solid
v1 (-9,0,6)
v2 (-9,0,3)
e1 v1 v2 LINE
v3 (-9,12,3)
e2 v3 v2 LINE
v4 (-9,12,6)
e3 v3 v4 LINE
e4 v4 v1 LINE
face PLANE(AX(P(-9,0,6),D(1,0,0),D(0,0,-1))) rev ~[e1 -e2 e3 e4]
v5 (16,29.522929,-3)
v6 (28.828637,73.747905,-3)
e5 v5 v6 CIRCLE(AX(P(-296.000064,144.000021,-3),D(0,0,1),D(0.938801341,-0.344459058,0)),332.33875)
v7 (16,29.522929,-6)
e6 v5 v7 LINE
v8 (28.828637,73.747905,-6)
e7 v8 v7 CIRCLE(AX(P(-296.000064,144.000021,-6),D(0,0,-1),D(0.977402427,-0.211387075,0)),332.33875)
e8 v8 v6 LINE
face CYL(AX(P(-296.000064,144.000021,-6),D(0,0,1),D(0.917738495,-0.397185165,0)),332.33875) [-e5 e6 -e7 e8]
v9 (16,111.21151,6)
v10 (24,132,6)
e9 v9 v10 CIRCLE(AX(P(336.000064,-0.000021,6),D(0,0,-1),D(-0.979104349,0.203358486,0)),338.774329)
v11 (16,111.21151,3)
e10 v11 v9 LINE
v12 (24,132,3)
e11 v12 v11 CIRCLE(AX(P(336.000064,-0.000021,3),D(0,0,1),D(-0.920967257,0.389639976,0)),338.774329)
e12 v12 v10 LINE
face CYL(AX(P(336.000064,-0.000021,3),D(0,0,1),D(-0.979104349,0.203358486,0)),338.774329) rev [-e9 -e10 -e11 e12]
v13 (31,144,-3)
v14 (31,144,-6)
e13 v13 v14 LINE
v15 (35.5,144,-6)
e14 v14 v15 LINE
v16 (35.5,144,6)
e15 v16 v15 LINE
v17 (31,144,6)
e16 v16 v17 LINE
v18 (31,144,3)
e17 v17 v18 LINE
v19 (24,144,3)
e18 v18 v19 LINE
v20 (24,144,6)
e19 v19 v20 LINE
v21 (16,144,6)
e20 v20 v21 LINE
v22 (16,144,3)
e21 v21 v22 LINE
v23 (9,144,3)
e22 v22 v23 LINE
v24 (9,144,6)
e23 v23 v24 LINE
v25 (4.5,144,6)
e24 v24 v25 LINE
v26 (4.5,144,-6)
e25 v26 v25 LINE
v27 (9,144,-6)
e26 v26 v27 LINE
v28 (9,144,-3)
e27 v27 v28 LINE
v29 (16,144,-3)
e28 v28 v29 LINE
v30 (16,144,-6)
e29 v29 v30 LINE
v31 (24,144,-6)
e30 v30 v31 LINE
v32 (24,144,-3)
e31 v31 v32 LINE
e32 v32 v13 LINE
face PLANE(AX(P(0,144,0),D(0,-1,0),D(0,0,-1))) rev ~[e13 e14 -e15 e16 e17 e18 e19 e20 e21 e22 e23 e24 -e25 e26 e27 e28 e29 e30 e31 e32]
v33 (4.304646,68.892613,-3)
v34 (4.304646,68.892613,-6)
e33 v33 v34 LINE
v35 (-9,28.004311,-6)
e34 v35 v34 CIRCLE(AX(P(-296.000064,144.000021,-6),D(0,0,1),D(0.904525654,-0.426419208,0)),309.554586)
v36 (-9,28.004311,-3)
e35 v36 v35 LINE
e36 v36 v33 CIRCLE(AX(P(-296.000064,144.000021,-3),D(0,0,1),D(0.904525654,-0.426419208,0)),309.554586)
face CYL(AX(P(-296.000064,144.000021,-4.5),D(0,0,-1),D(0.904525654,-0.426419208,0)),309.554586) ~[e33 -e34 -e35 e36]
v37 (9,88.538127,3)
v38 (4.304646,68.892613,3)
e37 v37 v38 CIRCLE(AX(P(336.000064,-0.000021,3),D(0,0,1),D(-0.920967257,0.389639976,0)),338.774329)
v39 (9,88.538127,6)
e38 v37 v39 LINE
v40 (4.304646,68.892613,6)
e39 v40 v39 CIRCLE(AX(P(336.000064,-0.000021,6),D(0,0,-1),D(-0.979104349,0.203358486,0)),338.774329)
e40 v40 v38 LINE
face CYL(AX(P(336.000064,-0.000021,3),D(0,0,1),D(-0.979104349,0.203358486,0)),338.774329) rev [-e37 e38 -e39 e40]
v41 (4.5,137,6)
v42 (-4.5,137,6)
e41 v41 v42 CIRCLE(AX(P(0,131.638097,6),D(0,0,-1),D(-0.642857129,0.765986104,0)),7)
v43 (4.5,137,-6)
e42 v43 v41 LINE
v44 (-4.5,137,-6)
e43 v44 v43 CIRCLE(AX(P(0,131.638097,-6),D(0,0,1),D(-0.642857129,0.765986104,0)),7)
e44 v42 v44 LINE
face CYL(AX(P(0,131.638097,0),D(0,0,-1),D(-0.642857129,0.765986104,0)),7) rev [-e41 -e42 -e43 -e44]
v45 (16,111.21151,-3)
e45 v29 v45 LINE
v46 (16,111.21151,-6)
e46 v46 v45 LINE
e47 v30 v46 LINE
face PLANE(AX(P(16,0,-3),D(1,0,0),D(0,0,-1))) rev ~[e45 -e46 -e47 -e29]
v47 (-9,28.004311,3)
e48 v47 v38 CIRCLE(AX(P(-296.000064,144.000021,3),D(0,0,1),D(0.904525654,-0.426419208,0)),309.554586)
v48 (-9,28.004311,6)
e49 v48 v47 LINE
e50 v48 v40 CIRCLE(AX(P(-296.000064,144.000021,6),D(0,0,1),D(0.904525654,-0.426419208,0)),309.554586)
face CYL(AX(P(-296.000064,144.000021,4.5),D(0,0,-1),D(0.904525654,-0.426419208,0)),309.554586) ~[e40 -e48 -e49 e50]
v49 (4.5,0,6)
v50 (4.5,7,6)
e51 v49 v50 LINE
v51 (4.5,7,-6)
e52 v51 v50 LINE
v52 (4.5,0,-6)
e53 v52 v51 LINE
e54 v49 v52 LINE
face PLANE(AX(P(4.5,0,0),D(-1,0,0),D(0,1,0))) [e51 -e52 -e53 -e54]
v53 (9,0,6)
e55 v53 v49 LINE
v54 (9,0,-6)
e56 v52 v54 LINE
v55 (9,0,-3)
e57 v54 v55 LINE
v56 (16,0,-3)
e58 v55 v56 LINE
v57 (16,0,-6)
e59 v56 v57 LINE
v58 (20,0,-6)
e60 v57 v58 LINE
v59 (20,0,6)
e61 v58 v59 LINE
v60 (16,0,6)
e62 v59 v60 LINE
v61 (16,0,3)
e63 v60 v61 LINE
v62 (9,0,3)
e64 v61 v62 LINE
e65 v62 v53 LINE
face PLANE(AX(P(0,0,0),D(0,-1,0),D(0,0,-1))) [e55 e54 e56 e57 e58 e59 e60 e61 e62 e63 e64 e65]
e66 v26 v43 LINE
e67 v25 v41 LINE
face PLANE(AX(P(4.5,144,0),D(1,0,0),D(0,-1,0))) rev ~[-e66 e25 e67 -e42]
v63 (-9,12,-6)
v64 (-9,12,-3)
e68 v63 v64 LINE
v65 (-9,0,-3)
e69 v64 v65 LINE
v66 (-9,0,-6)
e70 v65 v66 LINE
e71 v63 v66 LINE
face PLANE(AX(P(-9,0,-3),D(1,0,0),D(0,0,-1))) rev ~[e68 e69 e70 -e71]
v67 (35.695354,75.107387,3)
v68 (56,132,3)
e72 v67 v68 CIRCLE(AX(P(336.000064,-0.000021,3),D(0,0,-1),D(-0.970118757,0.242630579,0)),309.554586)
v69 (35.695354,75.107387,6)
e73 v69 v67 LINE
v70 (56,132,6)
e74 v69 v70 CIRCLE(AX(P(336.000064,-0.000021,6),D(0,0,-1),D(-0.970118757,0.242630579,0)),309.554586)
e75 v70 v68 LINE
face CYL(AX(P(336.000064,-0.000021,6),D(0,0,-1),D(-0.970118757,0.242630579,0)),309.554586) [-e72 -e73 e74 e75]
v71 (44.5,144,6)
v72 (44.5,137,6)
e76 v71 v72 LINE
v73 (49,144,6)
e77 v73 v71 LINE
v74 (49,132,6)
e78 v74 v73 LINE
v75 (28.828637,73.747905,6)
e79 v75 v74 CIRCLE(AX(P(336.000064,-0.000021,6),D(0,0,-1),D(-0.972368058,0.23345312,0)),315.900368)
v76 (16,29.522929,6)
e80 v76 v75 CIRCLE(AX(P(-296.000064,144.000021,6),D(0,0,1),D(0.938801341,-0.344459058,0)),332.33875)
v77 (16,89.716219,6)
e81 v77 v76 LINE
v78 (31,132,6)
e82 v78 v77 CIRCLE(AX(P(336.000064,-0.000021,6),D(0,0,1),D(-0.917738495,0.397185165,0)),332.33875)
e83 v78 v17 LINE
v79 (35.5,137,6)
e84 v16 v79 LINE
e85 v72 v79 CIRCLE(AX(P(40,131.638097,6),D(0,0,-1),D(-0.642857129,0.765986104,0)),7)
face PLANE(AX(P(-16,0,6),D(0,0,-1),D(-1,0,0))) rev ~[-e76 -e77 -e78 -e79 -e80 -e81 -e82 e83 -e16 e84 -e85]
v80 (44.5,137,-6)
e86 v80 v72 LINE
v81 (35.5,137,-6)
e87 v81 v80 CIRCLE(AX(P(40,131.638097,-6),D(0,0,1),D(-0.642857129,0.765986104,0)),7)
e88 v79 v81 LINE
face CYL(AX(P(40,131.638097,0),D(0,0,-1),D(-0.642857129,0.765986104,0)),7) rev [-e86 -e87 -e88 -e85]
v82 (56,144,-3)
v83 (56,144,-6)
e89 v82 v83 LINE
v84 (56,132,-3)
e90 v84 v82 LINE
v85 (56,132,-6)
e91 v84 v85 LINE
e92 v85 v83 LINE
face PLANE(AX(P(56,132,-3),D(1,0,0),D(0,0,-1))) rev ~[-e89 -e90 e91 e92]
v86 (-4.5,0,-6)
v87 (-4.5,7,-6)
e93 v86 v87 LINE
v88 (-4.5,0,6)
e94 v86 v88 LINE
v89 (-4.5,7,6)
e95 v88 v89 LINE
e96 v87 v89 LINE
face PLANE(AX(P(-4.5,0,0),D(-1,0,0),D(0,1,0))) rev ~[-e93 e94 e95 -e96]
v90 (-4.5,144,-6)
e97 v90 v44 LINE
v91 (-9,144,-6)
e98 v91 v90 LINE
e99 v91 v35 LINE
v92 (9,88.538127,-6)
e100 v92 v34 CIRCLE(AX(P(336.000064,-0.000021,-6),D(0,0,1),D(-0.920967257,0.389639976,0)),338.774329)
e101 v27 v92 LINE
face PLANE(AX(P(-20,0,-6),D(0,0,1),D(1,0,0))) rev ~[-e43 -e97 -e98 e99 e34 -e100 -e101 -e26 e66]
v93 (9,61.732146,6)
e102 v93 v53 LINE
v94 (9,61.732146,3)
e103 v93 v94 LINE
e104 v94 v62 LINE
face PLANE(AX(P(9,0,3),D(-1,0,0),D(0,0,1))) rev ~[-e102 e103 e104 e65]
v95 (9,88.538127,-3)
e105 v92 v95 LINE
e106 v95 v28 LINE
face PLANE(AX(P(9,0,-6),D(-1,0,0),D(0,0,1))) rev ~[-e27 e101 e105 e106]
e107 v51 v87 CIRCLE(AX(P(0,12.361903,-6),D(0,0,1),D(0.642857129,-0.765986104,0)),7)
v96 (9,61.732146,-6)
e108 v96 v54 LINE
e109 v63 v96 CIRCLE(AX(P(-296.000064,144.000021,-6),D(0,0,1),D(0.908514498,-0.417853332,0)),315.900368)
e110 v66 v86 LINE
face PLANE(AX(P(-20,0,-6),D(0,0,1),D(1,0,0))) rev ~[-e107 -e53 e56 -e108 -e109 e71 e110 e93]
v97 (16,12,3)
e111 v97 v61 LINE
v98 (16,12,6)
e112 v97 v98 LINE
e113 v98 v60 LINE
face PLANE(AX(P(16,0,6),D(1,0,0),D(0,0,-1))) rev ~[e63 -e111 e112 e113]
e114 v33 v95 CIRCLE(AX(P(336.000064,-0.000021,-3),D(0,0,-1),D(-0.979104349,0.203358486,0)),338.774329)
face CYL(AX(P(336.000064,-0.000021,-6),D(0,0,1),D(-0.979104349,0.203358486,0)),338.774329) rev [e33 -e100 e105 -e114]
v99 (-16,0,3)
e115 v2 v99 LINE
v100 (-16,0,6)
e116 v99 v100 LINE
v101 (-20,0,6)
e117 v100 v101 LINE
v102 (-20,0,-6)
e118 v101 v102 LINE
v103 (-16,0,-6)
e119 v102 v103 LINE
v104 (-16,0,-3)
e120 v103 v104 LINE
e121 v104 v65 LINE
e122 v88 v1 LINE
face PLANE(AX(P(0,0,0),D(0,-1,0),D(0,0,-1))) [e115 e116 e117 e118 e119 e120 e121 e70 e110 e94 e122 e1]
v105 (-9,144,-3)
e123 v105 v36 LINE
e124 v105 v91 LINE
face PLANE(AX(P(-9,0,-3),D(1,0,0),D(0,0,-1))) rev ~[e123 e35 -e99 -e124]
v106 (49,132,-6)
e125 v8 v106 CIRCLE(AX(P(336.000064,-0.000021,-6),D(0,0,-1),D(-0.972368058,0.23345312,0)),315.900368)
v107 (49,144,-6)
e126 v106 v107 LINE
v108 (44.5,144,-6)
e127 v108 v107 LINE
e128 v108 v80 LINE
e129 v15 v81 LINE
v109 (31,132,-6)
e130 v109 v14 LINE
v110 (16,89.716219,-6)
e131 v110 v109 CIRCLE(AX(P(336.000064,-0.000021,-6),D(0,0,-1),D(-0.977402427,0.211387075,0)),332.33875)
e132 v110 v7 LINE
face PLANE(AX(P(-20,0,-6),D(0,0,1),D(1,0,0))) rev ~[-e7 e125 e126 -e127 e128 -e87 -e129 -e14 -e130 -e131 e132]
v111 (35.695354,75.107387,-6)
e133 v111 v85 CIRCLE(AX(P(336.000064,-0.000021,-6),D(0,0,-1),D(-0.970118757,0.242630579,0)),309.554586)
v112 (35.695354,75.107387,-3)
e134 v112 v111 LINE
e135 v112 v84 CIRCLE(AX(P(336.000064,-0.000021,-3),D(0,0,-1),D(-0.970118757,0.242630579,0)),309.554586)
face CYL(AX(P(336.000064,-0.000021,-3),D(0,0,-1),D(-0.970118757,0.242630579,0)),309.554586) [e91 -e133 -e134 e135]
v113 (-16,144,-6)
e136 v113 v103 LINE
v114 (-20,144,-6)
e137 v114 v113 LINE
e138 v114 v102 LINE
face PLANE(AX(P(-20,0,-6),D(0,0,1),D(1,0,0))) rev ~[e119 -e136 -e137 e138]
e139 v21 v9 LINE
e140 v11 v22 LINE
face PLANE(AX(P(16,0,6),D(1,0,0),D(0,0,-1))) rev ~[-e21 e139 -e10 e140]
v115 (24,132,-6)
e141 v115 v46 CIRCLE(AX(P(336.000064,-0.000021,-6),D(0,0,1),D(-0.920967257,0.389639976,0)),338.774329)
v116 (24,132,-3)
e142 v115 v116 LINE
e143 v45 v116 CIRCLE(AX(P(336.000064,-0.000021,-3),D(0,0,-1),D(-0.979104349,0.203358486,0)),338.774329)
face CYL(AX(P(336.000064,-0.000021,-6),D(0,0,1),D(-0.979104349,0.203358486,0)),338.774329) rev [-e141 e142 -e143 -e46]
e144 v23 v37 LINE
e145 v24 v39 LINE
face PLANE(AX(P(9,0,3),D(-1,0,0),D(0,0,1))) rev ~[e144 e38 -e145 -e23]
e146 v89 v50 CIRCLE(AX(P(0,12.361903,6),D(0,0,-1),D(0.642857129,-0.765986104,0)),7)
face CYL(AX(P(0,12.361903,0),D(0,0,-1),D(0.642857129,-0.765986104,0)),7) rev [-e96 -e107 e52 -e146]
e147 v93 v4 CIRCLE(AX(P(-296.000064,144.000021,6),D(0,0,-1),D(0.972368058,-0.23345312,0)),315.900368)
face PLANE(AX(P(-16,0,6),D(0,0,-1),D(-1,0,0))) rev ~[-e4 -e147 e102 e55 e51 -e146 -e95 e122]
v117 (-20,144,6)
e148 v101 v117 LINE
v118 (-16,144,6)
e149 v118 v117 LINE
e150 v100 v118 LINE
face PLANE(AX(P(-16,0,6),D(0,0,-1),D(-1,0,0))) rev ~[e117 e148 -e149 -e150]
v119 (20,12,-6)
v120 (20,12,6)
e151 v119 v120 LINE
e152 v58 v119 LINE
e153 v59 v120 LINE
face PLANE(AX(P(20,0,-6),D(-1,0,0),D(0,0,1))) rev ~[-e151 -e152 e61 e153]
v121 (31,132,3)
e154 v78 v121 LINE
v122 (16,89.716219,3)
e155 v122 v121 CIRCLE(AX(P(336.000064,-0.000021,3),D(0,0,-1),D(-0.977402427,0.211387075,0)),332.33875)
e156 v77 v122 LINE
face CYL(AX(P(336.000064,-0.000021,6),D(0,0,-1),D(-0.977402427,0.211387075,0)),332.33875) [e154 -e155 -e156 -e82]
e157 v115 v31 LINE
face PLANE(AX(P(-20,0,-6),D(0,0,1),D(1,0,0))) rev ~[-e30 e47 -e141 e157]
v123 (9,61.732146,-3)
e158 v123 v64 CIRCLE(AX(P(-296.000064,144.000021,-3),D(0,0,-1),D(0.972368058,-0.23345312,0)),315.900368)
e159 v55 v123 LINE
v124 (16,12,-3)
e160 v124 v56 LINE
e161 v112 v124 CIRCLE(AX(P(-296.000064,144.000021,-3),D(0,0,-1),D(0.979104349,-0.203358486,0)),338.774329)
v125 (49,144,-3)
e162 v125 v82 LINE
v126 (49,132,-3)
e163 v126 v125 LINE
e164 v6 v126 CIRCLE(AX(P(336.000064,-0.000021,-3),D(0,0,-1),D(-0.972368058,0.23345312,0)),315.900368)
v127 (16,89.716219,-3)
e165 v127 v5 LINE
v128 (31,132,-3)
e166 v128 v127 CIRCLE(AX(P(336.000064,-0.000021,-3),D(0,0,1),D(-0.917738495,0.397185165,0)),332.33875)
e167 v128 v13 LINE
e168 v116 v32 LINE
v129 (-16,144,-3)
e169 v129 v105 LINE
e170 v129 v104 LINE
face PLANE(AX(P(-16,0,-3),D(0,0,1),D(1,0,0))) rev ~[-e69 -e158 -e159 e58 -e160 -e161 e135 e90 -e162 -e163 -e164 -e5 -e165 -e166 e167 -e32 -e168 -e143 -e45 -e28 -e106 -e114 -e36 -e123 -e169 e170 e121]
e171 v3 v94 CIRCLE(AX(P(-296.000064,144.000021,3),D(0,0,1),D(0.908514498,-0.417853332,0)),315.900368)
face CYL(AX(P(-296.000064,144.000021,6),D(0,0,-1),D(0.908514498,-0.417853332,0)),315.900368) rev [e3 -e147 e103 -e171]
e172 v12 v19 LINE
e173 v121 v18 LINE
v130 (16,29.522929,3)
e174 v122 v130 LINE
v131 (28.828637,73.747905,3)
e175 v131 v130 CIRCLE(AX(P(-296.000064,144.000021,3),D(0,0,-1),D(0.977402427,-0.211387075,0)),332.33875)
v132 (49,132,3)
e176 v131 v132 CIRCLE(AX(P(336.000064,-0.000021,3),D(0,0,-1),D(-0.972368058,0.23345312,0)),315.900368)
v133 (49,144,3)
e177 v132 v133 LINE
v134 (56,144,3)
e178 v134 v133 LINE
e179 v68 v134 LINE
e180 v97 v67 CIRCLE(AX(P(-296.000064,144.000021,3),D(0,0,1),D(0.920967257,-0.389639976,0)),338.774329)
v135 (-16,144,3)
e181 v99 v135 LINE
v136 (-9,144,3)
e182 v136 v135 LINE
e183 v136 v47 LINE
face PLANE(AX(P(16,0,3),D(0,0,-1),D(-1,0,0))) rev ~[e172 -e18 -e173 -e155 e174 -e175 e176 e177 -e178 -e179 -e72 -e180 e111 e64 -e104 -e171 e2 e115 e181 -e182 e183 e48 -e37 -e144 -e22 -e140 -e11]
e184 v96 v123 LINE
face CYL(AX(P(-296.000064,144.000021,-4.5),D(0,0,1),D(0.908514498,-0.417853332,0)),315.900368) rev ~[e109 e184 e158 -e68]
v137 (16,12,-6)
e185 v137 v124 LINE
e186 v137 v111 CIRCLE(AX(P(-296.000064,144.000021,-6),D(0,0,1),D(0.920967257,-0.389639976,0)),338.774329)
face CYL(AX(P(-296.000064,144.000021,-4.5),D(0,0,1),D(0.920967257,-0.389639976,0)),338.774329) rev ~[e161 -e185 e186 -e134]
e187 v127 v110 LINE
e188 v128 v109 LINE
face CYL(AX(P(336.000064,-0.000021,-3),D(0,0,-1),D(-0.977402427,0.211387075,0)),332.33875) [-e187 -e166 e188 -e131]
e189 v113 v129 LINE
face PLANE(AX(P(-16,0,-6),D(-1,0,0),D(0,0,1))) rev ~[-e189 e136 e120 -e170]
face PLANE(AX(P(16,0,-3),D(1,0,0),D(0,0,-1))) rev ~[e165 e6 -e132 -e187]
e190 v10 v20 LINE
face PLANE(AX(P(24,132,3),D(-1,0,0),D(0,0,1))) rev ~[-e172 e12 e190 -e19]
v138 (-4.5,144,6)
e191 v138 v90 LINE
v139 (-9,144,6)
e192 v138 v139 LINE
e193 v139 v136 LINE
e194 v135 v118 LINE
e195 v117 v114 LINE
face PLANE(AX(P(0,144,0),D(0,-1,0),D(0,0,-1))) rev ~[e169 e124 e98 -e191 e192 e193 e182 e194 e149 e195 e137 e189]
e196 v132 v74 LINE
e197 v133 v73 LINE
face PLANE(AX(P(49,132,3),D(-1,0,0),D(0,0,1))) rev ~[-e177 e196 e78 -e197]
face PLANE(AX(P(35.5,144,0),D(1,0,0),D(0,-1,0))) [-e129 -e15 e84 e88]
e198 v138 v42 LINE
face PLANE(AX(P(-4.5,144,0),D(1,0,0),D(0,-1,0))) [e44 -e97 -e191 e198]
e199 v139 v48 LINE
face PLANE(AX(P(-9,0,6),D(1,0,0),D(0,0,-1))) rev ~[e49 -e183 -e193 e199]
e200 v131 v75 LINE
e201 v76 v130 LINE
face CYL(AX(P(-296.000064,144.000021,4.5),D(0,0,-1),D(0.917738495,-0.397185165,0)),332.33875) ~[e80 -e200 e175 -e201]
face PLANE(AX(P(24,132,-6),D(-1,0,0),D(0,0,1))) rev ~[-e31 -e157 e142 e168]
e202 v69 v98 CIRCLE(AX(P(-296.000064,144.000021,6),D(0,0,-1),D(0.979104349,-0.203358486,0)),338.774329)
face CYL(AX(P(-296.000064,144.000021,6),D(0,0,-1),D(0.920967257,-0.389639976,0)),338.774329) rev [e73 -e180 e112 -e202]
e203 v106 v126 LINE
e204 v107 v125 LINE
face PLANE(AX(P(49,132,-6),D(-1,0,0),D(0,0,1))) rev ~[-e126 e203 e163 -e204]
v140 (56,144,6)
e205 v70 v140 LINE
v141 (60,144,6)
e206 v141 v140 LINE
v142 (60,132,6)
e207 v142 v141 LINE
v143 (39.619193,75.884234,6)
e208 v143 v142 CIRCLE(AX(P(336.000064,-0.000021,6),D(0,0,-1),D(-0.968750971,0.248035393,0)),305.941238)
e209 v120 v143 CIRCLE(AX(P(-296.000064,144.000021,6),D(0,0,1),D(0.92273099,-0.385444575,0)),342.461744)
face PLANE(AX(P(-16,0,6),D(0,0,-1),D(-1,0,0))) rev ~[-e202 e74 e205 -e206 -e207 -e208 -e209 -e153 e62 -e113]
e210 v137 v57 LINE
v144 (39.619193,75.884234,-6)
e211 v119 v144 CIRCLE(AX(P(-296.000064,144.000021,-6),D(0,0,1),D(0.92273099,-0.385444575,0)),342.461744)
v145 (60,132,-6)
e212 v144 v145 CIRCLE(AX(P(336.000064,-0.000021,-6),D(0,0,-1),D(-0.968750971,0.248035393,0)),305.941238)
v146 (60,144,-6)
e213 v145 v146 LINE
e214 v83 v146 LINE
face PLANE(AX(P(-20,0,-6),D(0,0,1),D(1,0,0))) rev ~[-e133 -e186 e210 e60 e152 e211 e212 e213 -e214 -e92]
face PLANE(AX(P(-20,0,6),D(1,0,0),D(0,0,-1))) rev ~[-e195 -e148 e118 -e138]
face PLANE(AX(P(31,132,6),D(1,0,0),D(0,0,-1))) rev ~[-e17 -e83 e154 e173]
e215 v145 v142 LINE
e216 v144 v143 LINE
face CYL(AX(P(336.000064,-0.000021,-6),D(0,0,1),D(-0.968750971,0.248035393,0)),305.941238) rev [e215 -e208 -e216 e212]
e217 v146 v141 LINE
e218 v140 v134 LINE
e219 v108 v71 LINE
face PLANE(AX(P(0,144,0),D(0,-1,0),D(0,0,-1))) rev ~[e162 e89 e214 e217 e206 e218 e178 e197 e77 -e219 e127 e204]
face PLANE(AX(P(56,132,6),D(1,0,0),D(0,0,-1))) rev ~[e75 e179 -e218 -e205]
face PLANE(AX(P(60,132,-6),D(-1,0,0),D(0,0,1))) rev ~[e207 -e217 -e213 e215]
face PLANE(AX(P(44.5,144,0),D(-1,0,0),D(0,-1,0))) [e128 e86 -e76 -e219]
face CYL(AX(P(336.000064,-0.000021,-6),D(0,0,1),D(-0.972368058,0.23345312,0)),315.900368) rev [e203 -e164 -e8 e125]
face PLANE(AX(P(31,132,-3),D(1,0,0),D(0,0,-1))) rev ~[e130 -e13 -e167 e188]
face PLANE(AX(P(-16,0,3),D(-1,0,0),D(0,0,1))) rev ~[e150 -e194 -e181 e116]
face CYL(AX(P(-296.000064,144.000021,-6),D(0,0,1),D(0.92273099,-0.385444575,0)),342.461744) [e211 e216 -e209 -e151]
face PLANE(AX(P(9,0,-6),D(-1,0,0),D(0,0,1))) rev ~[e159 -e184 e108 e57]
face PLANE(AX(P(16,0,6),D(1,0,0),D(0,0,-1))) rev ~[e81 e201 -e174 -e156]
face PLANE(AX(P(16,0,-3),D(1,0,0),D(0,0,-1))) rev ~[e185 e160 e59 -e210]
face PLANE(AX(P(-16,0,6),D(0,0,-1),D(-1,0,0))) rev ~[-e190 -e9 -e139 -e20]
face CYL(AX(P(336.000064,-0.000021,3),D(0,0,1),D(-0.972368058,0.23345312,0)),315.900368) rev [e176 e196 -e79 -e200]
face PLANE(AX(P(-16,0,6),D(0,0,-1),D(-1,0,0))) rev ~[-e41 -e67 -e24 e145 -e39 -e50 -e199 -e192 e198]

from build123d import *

# Parameters (mm, degrees)
SKETCH003_W          = 7
SKETCH003_H          = 3
SKETCH004_W          = 7
SKETCH004_H          = 3
SKETCH005_W          = 7
SKETCH005_H          = 3
SKETCH006_W          = 7
SKETCH006_H          = 3
POCKET_DEPTH         = 6.001
POCKET_DEPTH_BACK    = -6.001
POCKET001_DEPTH      = 6.001
POCKET001_DEPTH_BACK = -6.001
POCKET002_DEPTH      = 6.001
POCKET002_DEPTH_BACK = -6.001


with BuildPart() as part:
    # AdditivePipe: sweep along a path in Sketch
    with BuildLine(Plane.XY) as additivepipe_path:
        Line((0, 0), (0, 144))
    # Sketch002 → AdditivePipe (sweep)
    with BuildSketch(Plane.XZ):
        Polygon((-20, 6), (-20, -6), (-16, -6), (-16, -3), (-9, -3), (-9, -6), (9, -6), (9, -3), (16, -3), (16, -6), (20, -6), (20, 6), (16, 6), (16, 3), (9, 3), (9, 6), (-9, 6), (-9, 3), (-16, 3), (-16, 6), align=None)
    sweep(path=additivepipe_path.line)

    # AdditivePipe001: sweep along a path in Sketch001
    with BuildLine(Plane.XY) as additivepipe001_path:
        Line((0, 0), (0, 12))
        ThreePointArc((0, 12), (11.467071, 41.510976), (20, 72))
        ThreePointArc((20, 72), (28.532929, 102.489024), (40, 132))
        Line((40, 132), (40, 144))
    # Sketch002 → AdditivePipe001 (sweep)
    with BuildSketch(Plane.XZ):
        Polygon((-20, 6), (-20, -6), (-16, -6), (-16, -3), (-9, -3), (-9, -6), (9, -6), (9, -3), (16, -3), (16, -6), (20, -6), (20, 6), (16, 6), (16, 3), (9, 3), (9, 6), (-9, 6), (-9, 3), (-16, 3), (-16, 6), align=None)
    sweep(path=additivepipe001_path.line)

    # SubtractivePipe: sweep along a path in Sketch
    with BuildLine(Plane.XY) as subtractivepipe_path:
        Line((0, 0), (0, 144))
    # Sketch003 → SubtractivePipe (sweep, cut)
    with BuildSketch(Plane.XZ):
        with Locations((-12.5, 4.5)):
            Rectangle(SKETCH003_W, SKETCH003_H)
    sweep(path=subtractivepipe_path.line, mode=Mode.SUBTRACT)

    # SubtractivePipe001: sweep along a path in Sketch001
    with BuildLine(Plane.XY) as subtractivepipe001_path:
        Line((0, 0), (0, 12))
        ThreePointArc((0, 12), (11.467071, 41.510976), (20, 72))
        ThreePointArc((20, 72), (28.532929, 102.489024), (40, 132))
        Line((40, 132), (40, 144))
    # Sketch003 → SubtractivePipe001 (sweep, cut)
    with BuildSketch(Plane.XZ):
        with Locations((-12.5, 4.5)):
            Rectangle(SKETCH003_W, SKETCH003_H)
    sweep(path=subtractivepipe001_path.line, mode=Mode.SUBTRACT)

    # SubtractivePipe002: sweep along a path in Sketch
    with BuildLine(Plane.XY) as subtractivepipe002_path:
        Line((0, 0), (0, 144))
    # Sketch004 → SubtractivePipe002 (sweep, cut)
    with BuildSketch(Plane.XZ):
        with Locations((12.5, 4.5)):
            Rectangle(SKETCH004_W, SKETCH004_H)
    sweep(path=subtractivepipe002_path.line, mode=Mode.SUBTRACT)

    # SubtractivePipe003: sweep along a path in Sketch001
    with BuildLine(Plane.XY) as subtractivepipe003_path:
        Line((0, 0), (0, 12))
        ThreePointArc((0, 12), (11.467071, 41.510976), (20, 72))
        ThreePointArc((20, 72), (28.532929, 102.489024), (40, 132))
        Line((40, 132), (40, 144))
    # Sketch004 → SubtractivePipe003 (sweep, cut)
    with BuildSketch(Plane.XZ):
        with Locations((12.5, 4.5)):
            Rectangle(SKETCH004_W, SKETCH004_H)
    sweep(path=subtractivepipe003_path.line, mode=Mode.SUBTRACT)

    # SubtractivePipe004: sweep along a path in Sketch
    with BuildLine(Plane.XY) as subtractivepipe004_path:
        Line((0, 0), (0, 144))
    # Sketch005 → SubtractivePipe004 (sweep, cut)
    with BuildSketch(Plane.XZ):
        with Locations((-12.5, -4.5)):
            Rectangle(SKETCH005_W, SKETCH005_H)
    sweep(path=subtractivepipe004_path.line, mode=Mode.SUBTRACT)

    # SubtractivePipe005: sweep along a path in Sketch001
    with BuildLine(Plane.XY) as subtractivepipe005_path:
        Line((0, 0), (0, 12))
        ThreePointArc((0, 12), (11.467071, 41.510976), (20, 72))
        ThreePointArc((20, 72), (28.532929, 102.489024), (40, 132))
        Line((40, 132), (40, 144))
    # Sketch005 → SubtractivePipe005 (sweep, cut)
    with BuildSketch(Plane.XZ):
        with Locations((-12.5, -4.5)):
            Rectangle(SKETCH005_W, SKETCH005_H)
    sweep(path=subtractivepipe005_path.line, mode=Mode.SUBTRACT)

    # SubtractivePipe006: sweep along a path in Sketch
    with BuildLine(Plane.XY) as subtractivepipe006_path:
        Line((0, 0), (0, 144))
    # Sketch006 → SubtractivePipe006 (sweep, cut)
    with BuildSketch(Plane.XZ):
        with Locations((12.5, -4.5)):
            Rectangle(SKETCH006_W, SKETCH006_H)
    sweep(path=subtractivepipe006_path.line, mode=Mode.SUBTRACT)

    # SubtractivePipe007: sweep along a path in Sketch001
    with BuildLine(Plane.XY) as subtractivepipe007_path:
        Line((0, 0), (0, 12))
        ThreePointArc((0, 12), (11.467071, 41.510976), (20, 72))
        ThreePointArc((20, 72), (28.532929, 102.489024), (40, 132))
        Line((40, 132), (40, 144))
    # Sketch006 → SubtractivePipe007 (sweep, cut)
    with BuildSketch(Plane.XZ):
        with Locations((12.5, -4.5)):
            Rectangle(SKETCH006_W, SKETCH006_H)
    sweep(path=subtractivepipe007_path.line, mode=Mode.SUBTRACT)

    # Sketch007 → Pocket (cut, two sides)
    with BuildSketch(Plane.XY) as pocket_sk:
        with BuildLine():
            Line((-4.5, 0), (4.5, 0))
            Line((4.5, 0), (4.5, 7))
            ThreePointArc((4.5, 7), (0, 19.361903), (-4.5, 7))
            Line((-4.5, 0), (-4.5, 7))
        make_face()
    extrude(amount=-POCKET_DEPTH, mode=Mode.SUBTRACT)
    extrude(pocket_sk.sketch, amount=-POCKET_DEPTH_BACK, mode=Mode.SUBTRACT)

    # Sketch008 → Pocket001 (cut, two sides)
    with BuildSketch(Plane.XY) as pocket001_sk:
        with BuildLine():
            Line((-4.5, 144), (4.5, 144))
            Line((4.5, 144), (4.5, 137))
            ThreePointArc((-4.5, 137), (0, 124.638097), (4.5, 137))
            Line((-4.5, 144), (-4.5, 137))
        make_face()
    extrude(amount=-POCKET001_DEPTH, mode=Mode.SUBTRACT)
    extrude(pocket001_sk.sketch, amount=-POCKET001_DEPTH_BACK, mode=Mode.SUBTRACT)

    # Sketch009 → Pocket002 (cut, two sides)
    with BuildSketch(Plane.XY) as pocket002_sk:
        with BuildLine():
            Line((35.5, 144), (44.5, 144))
            Line((44.5, 144), (44.5, 137))
            ThreePointArc((35.5, 137), (40, 124.638097), (44.5, 137))
            Line((35.5, 144), (35.5, 137))
        make_face()
    extrude(amount=-POCKET002_DEPTH, mode=Mode.SUBTRACT)
    extrude(pocket002_sk.sketch, amount=-POCKET002_DEPTH_BACK, mode=Mode.SUBTRACT)


solid = part.part
